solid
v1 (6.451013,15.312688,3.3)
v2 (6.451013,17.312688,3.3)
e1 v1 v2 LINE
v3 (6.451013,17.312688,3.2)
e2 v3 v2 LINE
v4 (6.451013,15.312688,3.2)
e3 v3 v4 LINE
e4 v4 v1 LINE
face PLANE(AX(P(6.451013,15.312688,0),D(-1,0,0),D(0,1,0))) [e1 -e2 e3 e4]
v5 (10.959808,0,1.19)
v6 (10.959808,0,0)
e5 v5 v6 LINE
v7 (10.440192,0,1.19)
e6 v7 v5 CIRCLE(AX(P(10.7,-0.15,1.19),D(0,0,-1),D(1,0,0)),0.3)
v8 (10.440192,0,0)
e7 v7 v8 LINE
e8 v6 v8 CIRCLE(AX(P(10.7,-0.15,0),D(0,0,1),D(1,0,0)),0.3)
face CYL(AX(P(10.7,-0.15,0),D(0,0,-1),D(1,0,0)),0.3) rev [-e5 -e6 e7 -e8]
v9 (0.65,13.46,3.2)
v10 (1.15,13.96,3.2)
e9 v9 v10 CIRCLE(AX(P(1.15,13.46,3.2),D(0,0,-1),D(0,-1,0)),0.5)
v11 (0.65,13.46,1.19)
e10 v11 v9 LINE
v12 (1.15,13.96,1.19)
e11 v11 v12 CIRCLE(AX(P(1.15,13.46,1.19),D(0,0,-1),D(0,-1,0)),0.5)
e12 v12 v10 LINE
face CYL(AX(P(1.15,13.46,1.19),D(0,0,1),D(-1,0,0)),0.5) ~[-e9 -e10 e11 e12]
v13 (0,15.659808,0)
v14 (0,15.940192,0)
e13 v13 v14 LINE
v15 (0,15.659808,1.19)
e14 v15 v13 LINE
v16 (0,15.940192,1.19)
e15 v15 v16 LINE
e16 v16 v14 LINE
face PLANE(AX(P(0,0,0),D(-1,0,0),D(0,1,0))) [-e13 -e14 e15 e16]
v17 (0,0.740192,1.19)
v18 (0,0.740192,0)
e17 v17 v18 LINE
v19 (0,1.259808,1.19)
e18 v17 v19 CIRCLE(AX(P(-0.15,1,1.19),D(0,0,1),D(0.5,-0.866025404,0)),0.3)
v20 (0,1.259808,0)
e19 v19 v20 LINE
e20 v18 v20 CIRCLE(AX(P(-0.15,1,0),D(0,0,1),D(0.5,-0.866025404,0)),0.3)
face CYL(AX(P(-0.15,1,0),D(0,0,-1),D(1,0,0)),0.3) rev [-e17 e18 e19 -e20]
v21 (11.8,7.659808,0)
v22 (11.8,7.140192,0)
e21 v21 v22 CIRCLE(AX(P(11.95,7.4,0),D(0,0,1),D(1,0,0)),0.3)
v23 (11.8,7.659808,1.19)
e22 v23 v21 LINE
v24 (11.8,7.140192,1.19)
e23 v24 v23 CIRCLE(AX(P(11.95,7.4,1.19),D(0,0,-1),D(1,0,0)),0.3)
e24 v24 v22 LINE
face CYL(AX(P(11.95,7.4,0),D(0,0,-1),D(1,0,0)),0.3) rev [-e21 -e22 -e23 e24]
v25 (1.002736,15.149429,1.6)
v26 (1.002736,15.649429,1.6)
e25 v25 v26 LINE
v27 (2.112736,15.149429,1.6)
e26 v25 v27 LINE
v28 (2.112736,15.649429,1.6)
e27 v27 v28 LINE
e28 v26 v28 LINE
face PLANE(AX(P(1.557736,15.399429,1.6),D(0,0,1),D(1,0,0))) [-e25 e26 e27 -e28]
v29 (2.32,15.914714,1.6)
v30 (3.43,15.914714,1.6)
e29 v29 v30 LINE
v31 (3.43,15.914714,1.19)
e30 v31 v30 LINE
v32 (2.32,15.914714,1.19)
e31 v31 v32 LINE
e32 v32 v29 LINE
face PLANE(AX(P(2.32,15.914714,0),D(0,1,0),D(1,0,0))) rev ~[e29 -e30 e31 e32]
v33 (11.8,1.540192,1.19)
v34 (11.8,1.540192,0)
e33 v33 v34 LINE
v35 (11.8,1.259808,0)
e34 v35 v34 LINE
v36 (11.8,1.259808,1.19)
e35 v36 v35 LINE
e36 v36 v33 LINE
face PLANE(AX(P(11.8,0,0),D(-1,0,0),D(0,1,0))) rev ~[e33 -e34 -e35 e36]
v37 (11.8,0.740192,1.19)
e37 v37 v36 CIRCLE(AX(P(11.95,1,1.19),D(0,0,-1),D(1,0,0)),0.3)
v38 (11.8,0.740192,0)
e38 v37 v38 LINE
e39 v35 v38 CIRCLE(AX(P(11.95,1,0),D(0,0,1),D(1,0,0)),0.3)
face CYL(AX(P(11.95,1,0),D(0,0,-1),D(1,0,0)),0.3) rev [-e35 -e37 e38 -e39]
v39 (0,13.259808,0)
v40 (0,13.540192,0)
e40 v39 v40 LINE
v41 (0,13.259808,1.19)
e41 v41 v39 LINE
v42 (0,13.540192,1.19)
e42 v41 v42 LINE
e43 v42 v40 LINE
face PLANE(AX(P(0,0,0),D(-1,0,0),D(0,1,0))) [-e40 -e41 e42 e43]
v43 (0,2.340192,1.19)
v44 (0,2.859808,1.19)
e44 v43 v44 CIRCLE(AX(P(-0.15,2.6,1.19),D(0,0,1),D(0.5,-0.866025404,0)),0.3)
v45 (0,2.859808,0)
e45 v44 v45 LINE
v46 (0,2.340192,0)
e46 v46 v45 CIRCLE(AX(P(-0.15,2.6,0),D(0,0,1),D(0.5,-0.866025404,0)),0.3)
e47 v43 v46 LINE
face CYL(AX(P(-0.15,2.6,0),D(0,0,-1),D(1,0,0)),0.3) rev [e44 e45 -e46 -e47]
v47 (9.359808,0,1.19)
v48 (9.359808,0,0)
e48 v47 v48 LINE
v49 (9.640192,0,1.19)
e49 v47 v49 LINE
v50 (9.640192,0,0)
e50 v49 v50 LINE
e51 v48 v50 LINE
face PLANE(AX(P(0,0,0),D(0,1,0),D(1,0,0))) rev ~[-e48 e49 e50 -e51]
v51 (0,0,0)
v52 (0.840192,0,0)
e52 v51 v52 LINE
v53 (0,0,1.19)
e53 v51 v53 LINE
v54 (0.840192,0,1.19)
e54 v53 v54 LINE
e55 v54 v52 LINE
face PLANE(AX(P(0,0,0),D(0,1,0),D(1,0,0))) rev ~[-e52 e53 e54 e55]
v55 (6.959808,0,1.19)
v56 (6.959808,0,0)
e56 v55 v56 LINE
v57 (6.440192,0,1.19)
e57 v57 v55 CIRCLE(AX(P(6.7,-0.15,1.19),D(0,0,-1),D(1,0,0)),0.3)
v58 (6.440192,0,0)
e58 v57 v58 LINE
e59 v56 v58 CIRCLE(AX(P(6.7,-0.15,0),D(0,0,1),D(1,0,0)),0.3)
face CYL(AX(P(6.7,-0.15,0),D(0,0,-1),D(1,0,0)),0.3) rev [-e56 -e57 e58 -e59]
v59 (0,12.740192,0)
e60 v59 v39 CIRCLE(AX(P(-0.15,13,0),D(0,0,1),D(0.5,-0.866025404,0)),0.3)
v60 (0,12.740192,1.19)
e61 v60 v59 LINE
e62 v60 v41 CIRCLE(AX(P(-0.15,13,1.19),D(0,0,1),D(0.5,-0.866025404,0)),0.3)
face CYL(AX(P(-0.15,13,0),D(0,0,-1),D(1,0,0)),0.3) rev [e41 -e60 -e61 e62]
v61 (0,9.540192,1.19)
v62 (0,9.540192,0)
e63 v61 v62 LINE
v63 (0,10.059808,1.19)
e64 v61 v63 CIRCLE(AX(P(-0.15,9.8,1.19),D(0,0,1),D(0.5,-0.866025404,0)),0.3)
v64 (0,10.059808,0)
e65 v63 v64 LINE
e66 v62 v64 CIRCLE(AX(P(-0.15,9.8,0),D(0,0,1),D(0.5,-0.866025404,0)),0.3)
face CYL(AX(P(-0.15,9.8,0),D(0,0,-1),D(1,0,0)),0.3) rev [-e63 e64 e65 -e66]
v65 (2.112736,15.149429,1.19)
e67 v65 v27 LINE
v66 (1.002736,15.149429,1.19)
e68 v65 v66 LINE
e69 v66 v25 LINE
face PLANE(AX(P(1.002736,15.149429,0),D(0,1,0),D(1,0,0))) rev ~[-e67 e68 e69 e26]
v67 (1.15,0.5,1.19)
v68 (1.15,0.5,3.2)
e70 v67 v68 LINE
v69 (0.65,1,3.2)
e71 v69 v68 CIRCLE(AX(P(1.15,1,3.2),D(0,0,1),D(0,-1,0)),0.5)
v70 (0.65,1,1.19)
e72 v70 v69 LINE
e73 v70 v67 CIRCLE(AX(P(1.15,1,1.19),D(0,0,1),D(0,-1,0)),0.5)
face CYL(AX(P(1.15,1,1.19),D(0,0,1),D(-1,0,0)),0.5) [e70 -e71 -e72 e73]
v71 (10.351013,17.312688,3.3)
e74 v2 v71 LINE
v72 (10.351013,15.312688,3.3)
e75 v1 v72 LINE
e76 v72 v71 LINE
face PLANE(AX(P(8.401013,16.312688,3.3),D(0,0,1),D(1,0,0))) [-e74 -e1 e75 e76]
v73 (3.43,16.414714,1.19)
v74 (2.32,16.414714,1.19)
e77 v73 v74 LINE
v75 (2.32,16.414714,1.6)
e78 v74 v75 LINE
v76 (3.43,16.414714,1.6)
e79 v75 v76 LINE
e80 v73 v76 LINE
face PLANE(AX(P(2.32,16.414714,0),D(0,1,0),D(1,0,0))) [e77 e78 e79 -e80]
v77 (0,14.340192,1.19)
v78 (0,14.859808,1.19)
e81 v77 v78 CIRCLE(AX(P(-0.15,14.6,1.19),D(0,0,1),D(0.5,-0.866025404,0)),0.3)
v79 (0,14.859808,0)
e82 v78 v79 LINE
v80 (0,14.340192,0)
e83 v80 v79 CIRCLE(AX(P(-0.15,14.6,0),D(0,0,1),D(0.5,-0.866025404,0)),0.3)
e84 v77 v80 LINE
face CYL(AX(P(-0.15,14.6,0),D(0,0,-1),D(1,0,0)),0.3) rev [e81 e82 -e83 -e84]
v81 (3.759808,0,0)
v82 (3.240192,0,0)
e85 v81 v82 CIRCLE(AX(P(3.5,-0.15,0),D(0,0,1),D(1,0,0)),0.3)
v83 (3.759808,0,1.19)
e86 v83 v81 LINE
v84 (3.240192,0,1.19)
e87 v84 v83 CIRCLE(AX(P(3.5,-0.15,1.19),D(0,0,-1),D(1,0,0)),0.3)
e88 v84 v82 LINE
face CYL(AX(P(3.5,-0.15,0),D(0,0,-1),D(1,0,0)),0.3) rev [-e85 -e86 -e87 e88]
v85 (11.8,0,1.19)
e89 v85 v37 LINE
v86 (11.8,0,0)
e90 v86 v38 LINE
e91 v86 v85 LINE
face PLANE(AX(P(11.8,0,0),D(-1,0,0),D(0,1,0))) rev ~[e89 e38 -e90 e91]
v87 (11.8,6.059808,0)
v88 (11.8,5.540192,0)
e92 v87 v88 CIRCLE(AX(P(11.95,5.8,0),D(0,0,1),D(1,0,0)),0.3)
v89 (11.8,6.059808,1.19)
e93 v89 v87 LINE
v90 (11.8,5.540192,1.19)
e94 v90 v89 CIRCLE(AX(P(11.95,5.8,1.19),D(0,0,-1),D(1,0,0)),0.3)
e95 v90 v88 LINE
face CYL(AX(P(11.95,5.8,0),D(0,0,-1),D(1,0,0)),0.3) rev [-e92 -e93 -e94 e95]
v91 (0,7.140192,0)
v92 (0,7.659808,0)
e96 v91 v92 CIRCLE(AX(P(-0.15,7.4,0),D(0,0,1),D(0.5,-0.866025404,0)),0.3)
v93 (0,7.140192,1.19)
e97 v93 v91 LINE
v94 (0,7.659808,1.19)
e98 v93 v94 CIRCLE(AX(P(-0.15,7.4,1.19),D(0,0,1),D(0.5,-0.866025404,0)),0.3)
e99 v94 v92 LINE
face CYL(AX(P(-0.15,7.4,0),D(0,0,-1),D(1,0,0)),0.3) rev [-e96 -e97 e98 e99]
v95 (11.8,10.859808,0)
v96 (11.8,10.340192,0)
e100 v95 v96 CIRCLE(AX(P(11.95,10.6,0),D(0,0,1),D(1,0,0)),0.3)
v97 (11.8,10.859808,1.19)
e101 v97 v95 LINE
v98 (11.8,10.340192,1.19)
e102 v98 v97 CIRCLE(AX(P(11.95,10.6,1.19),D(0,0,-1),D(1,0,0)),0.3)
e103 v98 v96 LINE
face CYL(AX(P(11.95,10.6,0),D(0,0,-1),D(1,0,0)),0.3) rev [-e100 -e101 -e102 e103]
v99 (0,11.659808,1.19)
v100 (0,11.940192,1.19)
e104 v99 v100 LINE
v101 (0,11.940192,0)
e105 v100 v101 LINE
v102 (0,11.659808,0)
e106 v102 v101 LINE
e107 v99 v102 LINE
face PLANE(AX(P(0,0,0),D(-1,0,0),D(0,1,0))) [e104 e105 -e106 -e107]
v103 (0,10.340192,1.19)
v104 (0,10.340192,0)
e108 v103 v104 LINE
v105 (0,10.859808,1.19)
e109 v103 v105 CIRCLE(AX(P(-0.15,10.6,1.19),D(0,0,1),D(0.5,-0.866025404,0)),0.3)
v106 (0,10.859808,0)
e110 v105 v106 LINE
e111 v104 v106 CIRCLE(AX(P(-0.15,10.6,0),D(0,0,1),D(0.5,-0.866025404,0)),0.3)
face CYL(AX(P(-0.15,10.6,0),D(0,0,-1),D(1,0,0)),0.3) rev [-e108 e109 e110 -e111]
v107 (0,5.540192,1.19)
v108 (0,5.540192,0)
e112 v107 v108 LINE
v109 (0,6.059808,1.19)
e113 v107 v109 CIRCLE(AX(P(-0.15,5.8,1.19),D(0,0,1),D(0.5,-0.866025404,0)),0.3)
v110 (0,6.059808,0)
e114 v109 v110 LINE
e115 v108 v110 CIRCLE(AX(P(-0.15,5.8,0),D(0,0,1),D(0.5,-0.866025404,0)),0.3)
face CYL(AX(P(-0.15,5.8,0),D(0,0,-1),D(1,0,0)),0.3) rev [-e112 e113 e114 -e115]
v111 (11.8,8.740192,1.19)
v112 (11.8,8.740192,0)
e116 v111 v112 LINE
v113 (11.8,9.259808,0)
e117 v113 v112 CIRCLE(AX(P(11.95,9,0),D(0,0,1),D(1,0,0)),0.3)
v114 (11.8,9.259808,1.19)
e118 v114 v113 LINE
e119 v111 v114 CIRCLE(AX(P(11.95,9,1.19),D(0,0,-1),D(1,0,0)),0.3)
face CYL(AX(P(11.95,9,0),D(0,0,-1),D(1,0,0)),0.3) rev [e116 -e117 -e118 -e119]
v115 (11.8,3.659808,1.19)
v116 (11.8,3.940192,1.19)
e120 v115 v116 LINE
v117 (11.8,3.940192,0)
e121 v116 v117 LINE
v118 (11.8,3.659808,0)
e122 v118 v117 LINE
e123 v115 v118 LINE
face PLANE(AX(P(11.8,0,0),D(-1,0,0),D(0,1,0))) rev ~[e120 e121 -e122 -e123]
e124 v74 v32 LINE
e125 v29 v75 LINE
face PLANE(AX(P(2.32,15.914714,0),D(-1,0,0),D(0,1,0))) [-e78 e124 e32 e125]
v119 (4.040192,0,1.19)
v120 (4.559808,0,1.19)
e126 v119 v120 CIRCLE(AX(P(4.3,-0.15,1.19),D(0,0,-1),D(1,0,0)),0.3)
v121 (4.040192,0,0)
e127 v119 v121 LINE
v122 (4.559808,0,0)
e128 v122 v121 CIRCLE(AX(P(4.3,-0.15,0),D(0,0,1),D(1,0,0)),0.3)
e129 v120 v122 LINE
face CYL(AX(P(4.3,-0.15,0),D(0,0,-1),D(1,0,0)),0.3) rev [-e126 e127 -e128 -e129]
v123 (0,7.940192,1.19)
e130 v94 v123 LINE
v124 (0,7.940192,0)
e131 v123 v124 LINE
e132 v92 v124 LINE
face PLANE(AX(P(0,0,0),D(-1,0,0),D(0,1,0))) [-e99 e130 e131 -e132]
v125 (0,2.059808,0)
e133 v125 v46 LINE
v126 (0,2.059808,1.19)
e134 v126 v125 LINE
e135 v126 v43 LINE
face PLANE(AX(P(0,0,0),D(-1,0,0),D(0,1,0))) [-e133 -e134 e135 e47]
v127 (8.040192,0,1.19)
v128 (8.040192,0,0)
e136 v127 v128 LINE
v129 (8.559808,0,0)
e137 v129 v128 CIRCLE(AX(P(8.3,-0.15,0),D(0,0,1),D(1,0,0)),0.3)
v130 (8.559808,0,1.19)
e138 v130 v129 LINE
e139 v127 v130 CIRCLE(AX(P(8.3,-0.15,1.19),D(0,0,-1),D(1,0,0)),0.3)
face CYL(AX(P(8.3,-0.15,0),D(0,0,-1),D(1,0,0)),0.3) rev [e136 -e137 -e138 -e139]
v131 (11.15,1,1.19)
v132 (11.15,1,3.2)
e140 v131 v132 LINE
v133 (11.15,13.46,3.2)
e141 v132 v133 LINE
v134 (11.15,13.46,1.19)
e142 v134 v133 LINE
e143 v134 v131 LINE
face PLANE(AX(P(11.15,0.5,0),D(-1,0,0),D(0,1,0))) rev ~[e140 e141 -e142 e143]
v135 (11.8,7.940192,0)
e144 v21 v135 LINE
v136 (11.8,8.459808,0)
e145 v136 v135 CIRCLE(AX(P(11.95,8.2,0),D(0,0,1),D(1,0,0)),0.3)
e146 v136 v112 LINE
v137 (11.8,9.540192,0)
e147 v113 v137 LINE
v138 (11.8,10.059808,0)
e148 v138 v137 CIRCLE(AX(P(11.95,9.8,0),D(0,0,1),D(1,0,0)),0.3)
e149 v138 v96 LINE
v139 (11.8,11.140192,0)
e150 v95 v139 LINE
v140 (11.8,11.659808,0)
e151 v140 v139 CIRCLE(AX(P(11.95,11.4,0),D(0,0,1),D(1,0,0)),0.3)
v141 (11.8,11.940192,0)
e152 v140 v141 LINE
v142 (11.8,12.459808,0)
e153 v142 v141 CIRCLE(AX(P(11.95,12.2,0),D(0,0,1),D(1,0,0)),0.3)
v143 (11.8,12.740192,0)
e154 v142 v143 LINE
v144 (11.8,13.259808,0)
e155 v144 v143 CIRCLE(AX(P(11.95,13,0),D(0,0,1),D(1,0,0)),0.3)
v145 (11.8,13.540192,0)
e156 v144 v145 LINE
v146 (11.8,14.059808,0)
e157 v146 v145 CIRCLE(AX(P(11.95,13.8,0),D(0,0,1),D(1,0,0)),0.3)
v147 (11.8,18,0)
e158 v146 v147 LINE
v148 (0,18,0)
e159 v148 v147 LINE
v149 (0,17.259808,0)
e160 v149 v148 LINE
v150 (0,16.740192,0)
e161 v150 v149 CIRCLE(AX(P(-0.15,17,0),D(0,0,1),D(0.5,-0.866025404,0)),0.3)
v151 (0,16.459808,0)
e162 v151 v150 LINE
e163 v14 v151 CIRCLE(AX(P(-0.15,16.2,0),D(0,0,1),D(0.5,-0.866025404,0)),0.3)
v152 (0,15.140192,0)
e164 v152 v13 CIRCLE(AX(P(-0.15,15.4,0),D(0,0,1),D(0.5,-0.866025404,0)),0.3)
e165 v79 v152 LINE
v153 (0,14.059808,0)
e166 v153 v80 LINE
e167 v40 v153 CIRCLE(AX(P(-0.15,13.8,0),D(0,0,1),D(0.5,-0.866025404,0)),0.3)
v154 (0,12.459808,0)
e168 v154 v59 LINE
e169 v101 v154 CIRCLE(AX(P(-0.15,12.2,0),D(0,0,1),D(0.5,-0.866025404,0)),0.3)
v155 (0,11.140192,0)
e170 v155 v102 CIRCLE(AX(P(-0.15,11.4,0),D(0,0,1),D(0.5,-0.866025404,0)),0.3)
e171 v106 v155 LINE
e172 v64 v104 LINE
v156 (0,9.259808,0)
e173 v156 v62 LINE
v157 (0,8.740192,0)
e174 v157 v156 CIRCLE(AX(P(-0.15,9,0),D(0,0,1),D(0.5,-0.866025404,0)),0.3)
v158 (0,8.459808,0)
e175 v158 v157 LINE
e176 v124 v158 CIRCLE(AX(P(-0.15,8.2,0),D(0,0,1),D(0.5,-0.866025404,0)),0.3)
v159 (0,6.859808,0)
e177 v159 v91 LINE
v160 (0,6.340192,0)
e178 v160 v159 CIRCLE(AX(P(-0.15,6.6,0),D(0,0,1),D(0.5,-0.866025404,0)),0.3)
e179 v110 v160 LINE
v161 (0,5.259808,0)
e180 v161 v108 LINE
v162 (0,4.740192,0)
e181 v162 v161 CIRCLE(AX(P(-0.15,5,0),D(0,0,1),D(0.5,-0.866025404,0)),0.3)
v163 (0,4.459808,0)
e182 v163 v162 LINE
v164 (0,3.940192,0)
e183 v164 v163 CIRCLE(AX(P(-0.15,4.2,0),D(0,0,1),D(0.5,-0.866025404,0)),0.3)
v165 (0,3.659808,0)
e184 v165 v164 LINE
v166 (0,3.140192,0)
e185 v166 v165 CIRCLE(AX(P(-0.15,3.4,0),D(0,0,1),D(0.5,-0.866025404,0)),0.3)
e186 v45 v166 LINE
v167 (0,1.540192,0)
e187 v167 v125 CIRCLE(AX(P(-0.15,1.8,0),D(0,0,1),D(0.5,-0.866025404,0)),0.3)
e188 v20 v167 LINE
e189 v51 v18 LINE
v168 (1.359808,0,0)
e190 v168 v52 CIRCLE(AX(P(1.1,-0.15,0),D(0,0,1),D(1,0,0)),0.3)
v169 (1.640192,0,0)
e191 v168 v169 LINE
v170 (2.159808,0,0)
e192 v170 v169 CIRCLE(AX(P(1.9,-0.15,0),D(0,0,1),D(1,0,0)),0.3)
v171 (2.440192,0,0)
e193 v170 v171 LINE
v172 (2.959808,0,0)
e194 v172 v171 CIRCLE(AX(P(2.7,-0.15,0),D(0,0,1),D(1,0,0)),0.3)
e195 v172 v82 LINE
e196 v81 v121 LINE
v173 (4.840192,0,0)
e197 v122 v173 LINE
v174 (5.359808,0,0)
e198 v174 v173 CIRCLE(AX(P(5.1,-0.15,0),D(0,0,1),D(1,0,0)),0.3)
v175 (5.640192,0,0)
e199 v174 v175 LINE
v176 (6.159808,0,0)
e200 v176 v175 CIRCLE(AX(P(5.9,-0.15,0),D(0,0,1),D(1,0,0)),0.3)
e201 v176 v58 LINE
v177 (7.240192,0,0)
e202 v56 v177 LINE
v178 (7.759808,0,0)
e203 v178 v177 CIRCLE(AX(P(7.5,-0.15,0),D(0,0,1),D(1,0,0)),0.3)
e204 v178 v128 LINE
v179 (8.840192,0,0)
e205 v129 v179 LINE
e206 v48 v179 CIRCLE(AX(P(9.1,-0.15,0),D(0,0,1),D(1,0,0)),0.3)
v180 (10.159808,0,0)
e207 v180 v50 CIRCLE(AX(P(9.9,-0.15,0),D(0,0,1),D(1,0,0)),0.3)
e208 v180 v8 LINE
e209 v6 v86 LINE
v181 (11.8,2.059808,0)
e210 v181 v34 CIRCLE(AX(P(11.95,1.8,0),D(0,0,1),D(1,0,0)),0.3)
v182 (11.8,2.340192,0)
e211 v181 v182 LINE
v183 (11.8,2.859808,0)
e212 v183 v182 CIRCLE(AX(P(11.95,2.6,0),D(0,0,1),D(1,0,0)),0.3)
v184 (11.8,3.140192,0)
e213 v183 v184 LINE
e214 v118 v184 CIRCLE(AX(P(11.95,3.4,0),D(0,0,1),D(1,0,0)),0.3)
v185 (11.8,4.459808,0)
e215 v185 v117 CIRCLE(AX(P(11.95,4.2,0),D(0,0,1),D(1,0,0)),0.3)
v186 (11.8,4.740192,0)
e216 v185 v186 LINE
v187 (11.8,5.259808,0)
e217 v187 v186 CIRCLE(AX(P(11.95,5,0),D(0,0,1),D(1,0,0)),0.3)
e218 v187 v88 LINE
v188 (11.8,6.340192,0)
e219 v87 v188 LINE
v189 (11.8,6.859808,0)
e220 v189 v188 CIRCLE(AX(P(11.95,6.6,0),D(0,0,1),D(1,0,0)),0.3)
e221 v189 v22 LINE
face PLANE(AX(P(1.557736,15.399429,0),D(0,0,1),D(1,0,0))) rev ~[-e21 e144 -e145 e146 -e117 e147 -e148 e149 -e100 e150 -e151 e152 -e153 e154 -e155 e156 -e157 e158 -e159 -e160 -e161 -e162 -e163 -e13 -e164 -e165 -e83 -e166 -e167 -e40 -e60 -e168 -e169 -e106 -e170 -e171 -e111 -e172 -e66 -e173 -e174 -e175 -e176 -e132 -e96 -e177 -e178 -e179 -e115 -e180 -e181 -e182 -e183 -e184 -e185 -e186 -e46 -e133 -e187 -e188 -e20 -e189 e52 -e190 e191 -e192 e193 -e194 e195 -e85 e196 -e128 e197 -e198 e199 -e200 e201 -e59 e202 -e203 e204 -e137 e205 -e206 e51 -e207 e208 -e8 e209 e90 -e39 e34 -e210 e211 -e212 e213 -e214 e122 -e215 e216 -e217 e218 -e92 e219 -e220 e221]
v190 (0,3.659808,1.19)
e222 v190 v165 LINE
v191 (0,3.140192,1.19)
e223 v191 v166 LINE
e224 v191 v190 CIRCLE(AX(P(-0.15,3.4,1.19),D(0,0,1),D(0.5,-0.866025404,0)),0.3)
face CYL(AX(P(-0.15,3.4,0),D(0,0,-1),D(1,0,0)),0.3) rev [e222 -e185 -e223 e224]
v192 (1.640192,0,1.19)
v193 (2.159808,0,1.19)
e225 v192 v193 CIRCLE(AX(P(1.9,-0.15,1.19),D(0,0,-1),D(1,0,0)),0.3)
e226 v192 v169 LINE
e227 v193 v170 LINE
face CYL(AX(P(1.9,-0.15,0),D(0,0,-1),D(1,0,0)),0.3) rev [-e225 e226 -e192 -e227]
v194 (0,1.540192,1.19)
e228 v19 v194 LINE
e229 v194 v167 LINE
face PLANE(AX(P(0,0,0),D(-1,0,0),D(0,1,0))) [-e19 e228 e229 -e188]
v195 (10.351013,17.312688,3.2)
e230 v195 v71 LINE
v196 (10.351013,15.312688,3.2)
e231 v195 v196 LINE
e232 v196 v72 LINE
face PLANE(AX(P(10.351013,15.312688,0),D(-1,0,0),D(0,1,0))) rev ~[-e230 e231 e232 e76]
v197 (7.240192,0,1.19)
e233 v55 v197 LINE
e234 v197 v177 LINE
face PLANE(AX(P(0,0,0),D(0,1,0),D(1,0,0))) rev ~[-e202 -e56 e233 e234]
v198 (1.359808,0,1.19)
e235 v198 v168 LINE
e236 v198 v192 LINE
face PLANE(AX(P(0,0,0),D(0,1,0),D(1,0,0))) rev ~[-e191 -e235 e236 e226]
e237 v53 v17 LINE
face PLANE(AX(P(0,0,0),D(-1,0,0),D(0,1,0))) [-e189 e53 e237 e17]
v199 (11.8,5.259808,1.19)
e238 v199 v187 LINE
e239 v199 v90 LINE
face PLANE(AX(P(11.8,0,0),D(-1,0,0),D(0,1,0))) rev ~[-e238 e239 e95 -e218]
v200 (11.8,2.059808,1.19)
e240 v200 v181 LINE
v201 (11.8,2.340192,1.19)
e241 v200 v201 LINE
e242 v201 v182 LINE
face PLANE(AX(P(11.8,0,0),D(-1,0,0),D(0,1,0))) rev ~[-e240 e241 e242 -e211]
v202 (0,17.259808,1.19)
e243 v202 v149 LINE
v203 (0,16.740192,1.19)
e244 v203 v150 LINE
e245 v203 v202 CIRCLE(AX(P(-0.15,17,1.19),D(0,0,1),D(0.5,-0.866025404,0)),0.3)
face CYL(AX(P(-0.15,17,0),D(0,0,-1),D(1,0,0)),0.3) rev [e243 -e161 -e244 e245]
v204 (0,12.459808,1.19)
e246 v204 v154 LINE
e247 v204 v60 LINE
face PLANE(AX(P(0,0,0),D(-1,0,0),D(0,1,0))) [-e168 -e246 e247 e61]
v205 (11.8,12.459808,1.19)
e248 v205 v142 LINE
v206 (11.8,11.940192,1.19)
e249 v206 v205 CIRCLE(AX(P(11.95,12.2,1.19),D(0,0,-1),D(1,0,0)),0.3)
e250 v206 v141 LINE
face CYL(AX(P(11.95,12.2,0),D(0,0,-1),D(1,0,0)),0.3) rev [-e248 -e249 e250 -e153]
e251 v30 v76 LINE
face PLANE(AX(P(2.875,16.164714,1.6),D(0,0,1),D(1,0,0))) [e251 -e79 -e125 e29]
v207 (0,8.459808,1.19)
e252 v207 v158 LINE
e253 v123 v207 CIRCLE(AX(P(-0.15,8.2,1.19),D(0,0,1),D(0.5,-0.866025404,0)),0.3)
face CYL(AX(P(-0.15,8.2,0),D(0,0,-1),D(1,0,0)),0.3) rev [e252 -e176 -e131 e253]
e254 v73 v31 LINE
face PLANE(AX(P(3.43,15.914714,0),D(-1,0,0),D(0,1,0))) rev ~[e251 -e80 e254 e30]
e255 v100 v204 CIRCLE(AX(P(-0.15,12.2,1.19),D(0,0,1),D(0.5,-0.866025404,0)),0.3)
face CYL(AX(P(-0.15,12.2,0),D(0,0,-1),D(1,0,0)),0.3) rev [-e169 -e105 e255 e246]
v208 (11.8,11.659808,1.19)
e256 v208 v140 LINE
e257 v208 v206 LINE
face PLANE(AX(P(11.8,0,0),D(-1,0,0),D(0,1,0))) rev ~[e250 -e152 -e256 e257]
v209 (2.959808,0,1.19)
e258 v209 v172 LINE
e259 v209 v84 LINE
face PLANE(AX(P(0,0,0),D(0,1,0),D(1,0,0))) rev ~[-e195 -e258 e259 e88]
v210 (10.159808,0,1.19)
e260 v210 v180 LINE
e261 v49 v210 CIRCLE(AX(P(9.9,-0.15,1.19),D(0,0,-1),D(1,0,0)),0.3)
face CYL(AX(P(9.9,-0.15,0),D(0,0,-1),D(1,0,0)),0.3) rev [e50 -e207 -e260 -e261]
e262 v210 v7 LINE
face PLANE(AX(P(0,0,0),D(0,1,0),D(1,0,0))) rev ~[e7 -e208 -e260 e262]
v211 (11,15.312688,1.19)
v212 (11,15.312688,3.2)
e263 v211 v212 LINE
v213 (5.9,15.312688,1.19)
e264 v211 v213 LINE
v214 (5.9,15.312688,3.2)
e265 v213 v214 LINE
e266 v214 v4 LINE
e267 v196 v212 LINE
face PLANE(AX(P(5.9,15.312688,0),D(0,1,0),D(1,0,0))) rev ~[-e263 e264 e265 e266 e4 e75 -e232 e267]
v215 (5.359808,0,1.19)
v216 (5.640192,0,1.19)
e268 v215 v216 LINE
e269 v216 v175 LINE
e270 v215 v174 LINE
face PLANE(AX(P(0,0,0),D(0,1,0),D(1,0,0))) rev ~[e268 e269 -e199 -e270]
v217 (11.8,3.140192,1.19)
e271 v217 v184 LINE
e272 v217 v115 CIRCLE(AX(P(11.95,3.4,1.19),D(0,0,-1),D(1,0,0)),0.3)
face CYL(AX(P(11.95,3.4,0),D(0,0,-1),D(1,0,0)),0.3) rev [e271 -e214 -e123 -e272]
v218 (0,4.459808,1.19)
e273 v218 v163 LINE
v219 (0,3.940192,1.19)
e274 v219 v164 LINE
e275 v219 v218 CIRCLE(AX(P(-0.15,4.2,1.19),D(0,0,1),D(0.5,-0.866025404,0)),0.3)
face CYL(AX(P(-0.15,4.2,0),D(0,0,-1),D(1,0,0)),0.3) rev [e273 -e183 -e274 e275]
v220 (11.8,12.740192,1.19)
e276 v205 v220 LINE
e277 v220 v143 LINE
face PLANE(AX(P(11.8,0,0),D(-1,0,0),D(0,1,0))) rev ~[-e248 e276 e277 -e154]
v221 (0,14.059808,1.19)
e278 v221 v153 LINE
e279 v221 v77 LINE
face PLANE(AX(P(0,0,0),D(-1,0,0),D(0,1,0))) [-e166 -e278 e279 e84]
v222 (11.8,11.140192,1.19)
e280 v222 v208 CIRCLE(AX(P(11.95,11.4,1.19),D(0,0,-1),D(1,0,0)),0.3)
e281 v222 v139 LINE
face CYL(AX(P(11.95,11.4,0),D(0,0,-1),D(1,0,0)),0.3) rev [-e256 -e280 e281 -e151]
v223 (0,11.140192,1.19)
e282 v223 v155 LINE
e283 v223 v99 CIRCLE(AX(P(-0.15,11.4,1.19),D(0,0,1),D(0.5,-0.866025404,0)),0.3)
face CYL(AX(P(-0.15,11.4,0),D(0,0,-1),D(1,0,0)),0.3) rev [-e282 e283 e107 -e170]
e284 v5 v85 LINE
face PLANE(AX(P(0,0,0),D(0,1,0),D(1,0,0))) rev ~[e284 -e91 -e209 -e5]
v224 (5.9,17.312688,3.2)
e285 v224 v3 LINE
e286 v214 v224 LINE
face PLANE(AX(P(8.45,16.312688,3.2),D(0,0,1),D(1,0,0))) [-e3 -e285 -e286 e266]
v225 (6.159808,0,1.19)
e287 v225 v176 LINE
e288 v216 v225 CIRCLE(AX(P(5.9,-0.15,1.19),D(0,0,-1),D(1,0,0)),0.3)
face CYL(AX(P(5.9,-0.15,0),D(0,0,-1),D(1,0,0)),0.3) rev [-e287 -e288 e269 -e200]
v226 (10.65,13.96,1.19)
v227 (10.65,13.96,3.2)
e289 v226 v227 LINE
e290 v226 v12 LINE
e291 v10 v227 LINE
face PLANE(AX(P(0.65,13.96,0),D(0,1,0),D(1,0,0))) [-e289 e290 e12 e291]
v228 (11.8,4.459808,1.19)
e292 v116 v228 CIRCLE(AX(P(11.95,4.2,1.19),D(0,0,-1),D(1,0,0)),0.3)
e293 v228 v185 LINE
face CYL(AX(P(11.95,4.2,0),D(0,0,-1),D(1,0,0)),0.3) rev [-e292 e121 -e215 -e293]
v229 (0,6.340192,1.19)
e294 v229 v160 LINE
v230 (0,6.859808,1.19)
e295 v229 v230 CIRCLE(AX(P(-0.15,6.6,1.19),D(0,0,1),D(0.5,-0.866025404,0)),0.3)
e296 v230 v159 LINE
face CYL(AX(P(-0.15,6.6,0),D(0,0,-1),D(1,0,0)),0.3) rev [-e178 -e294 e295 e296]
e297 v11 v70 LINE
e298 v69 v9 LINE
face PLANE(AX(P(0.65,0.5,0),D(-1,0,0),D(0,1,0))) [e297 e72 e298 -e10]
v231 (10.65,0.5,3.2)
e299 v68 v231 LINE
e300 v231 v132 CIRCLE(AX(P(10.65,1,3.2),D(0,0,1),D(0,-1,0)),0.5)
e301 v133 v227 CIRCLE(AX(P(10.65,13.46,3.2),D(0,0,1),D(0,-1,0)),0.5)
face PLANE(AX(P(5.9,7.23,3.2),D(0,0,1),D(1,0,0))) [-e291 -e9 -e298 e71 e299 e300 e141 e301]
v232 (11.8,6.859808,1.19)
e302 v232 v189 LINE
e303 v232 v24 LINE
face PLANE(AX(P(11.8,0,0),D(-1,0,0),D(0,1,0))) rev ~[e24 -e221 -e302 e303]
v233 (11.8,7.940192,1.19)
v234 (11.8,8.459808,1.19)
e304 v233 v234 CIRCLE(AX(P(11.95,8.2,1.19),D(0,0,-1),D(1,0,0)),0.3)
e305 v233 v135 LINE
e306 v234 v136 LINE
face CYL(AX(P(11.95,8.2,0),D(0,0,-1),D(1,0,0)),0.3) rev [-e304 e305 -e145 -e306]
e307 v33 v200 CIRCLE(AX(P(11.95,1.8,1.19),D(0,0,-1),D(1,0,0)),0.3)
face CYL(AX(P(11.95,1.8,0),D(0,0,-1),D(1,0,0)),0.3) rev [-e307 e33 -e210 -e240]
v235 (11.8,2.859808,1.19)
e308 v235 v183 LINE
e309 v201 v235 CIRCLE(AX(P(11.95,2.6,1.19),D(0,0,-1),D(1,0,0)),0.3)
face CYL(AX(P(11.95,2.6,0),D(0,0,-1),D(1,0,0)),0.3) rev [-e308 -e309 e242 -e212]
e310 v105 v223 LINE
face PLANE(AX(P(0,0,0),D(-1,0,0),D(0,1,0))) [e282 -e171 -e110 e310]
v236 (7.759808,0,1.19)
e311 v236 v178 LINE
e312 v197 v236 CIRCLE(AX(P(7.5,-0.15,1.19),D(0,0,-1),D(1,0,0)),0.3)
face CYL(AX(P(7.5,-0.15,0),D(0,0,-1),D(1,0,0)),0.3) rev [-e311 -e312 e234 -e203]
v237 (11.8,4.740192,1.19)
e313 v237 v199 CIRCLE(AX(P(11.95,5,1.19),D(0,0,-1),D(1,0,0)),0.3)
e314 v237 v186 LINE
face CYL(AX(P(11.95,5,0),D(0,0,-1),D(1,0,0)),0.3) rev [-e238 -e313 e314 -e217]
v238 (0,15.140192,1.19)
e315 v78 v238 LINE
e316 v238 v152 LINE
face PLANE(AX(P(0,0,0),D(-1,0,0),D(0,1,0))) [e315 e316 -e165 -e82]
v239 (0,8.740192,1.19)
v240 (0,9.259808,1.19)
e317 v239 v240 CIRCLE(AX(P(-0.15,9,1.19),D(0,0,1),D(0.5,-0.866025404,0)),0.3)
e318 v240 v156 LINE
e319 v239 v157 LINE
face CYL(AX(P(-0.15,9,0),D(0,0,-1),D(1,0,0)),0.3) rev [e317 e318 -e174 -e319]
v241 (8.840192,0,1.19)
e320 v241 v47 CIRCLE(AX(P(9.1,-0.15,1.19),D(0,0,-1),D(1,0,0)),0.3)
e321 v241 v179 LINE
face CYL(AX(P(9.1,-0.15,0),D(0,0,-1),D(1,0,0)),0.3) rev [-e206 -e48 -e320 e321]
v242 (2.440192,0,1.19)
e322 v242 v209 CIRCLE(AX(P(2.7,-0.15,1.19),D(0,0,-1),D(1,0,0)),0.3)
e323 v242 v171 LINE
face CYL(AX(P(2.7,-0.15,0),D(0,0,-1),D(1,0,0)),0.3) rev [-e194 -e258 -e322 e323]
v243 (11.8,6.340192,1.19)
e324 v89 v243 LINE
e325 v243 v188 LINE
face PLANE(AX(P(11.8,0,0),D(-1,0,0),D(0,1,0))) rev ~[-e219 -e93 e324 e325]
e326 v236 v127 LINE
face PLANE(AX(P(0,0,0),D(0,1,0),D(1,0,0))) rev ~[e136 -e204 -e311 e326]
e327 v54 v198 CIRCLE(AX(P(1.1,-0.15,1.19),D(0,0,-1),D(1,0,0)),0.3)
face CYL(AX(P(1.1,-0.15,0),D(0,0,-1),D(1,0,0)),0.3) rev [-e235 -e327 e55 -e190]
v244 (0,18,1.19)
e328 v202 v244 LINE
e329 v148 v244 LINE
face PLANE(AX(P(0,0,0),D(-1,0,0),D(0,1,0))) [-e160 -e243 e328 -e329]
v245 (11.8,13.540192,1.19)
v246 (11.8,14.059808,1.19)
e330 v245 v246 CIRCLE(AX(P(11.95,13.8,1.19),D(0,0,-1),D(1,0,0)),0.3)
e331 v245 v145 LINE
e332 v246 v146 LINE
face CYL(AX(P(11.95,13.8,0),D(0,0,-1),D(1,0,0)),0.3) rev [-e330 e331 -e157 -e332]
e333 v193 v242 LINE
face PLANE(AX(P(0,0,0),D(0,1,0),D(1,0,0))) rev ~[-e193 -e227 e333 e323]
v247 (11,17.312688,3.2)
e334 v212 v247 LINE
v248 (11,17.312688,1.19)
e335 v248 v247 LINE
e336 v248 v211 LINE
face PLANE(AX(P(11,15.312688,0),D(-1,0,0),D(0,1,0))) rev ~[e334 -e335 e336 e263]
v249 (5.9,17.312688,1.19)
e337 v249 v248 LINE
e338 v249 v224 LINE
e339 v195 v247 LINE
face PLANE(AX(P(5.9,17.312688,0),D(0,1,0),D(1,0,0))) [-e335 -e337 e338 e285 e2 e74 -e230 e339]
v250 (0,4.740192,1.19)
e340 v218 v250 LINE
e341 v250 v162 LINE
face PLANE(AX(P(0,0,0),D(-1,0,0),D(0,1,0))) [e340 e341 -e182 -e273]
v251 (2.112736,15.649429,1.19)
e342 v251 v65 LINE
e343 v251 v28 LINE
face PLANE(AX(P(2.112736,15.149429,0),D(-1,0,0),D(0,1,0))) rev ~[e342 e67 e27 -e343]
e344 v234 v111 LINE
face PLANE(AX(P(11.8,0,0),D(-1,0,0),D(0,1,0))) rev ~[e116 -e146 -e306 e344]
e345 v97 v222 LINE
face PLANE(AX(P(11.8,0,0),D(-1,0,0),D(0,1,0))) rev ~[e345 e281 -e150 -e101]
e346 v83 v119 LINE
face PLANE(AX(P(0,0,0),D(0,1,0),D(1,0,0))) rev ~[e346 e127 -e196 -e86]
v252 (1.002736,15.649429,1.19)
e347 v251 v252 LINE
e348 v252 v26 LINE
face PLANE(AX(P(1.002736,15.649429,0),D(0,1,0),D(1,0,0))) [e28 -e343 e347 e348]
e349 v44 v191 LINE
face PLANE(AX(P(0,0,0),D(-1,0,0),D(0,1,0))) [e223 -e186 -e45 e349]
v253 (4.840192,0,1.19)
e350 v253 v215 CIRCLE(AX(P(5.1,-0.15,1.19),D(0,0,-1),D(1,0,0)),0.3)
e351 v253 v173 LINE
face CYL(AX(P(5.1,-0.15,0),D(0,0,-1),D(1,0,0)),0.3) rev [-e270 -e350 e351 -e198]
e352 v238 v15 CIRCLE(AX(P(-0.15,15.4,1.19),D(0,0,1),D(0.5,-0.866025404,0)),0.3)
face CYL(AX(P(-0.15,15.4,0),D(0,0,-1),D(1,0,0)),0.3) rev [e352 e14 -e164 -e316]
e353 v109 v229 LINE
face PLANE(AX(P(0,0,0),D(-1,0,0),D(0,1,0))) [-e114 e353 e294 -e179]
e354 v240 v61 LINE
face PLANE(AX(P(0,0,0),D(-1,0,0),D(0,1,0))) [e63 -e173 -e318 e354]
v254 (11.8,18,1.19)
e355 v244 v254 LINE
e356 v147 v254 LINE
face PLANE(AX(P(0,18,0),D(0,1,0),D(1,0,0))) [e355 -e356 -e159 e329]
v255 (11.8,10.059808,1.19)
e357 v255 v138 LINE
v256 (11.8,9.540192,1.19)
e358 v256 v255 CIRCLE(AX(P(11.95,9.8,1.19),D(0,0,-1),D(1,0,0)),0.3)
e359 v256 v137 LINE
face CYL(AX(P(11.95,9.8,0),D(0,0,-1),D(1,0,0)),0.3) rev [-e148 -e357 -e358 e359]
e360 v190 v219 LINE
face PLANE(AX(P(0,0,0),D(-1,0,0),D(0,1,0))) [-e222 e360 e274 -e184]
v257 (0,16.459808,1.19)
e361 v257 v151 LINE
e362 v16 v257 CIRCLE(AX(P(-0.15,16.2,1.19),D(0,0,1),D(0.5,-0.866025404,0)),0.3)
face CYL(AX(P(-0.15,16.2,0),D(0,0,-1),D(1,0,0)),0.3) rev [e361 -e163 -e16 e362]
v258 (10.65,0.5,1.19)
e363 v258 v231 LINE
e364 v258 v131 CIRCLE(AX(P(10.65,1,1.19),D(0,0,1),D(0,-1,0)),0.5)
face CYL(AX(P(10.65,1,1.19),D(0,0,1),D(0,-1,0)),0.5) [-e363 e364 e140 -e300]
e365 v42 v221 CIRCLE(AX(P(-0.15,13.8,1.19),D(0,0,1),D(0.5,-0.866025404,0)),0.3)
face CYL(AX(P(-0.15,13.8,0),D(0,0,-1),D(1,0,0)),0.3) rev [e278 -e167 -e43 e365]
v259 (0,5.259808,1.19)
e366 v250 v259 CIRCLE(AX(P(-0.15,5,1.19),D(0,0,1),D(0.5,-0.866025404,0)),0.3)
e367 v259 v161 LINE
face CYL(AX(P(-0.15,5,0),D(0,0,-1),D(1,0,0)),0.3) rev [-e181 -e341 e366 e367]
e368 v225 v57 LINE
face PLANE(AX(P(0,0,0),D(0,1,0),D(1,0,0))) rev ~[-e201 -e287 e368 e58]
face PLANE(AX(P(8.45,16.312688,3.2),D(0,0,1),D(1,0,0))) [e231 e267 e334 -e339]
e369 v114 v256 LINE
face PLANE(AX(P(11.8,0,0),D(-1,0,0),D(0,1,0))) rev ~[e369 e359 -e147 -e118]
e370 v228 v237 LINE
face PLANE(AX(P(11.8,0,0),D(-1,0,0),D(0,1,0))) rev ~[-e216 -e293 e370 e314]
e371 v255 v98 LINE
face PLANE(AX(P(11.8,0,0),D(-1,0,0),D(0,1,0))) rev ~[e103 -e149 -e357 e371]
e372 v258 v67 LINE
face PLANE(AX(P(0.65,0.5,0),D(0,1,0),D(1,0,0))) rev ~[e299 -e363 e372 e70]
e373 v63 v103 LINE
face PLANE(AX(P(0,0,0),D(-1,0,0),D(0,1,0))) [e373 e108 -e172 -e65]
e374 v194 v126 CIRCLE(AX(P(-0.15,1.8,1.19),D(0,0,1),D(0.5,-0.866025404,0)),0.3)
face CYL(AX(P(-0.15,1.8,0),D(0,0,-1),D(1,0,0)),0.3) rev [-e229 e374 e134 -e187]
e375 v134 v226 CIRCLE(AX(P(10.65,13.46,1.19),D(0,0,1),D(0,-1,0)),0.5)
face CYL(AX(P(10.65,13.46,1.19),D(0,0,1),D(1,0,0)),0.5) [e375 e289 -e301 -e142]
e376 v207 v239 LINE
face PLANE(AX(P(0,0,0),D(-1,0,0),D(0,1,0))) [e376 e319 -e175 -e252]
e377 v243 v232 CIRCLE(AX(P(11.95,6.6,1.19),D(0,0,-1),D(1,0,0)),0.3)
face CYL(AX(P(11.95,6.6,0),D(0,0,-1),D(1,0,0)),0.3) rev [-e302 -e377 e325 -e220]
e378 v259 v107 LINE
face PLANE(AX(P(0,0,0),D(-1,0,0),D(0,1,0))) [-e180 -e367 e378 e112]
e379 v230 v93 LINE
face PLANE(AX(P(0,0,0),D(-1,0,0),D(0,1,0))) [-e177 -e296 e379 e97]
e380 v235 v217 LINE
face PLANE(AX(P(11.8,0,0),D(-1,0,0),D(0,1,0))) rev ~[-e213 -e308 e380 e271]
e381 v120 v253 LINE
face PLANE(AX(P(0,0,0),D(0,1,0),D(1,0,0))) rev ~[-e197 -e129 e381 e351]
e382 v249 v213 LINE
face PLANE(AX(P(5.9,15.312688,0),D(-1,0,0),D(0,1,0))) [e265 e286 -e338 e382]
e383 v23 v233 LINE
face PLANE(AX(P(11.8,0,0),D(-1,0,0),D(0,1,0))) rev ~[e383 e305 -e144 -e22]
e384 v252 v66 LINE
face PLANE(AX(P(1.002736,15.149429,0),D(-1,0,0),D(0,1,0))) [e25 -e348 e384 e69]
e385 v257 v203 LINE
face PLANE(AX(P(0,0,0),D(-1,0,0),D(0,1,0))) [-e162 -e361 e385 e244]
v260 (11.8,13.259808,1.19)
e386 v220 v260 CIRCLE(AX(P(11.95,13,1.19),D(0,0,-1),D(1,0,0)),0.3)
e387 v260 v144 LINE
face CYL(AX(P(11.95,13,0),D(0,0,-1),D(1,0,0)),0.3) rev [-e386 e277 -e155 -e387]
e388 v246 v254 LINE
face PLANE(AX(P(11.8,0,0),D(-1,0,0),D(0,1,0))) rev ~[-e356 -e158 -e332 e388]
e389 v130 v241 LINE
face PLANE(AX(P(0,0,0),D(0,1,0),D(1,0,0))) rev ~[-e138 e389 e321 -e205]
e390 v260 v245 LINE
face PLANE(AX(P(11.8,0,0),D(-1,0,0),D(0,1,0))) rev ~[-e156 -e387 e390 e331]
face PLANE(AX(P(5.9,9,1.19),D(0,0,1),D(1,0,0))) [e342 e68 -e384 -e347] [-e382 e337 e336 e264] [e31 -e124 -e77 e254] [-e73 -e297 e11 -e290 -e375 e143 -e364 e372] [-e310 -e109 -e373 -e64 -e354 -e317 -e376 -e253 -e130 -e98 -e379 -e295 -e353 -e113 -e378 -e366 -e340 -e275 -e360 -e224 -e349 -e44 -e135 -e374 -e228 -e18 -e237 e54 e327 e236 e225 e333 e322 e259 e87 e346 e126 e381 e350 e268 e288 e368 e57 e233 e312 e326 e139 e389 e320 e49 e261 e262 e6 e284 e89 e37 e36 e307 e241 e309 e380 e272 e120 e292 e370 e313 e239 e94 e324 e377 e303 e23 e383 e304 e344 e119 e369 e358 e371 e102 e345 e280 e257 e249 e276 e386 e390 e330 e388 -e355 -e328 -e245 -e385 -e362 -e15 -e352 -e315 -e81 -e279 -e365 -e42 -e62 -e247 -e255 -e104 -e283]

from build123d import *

# Parameters (mm, degrees)
SKETCH1_W               = 11.8
SKETCH1_H               = 18
BOSS_EXTRUDE1_DEPTH     = 1.19
SKETCH2_W               = 10.5
SKETCH2_H               = 13.46
BOSS_EXTRUDE2_DEPTH     = 3.2
FILLET11_R              = 0.5
FILLET12_R              = 0.5
FILLET13_R              = 0.5
FILLET14_R              = 0.5
SKETCH9_R               = 0.3
CUT_EXTRUDE5_DEPTH      = 3.2
SKETCH14_W              = 5.1
SKETCH14_H              = 2
BOSS_EXTRUDE3_DEPTH     = 3.2
SKETCH15_W              = 3.9
SKETCH15_H              = 2
BOSS_EXTRUDE4_DEPTH     = 3.3
SKETCH16_R              = 0.3
CUT_EXTRUDE6_DEPTH      = 4.3
CUT_EXTRUDE6_DEPTH_BACK = 1
SKETCH17_R              = 0.3
CUT_EXTRUDE9_DEPTH      = 4.3
CUT_EXTRUDE9_DEPTH_BACK = 3.2
SKETCH19_W              = 1.11
SKETCH19_H              = 0.5
BOSS_EXTRUDE6_DEPTH     = 1.6
SKETCH20_W              = 1.11
SKETCH20_H              = 0.5
BOSS_EXTRUDE7_DEPTH     = 1.6


with BuildPart() as part:
    # Sketch1 → Boss-Extrude1 (new body)
    with BuildSketch(Plane.XY):
        with Locations((5.9, 9)):
            Rectangle(SKETCH1_W, SKETCH1_H)
    extrude(amount=BOSS_EXTRUDE1_DEPTH)

    # Sketch2 → Boss-Extrude2 (add)
    with BuildSketch(Plane.XY):
        with Locations((5.9, 7.23)):
            Rectangle(SKETCH2_W, SKETCH2_H)
    extrude(amount=BOSS_EXTRUDE2_DEPTH)

    # Fillet11
    fillet11_edges = [part.edges().sort_by_distance(p)[0] for p in [
        (0.65, 13.96, 2.195),
    ]]
    fillet(fillet11_edges, radius=FILLET11_R)

    # Fillet12
    fillet12_edges = [part.edges().sort_by_distance(p)[0] for p in [
        (0.65, 0.5, 2.195),
    ]]
    fillet(fillet12_edges, radius=FILLET12_R)

    # Fillet13
    fillet13_edges = [part.edges().sort_by_distance(p)[0] for p in [
        (11.15, 0.5, 2.195),
    ]]
    fillet(fillet13_edges, radius=FILLET13_R)

    # Fillet14
    fillet14_edges = [part.edges().sort_by_distance(p)[0] for p in [
        (11.15, 13.96, 2.195),
    ]]
    fillet(fillet14_edges, radius=FILLET14_R)

    # Sketch9 → Cut-Extrude5 (cut)
    with BuildSketch(Plane.XY):
        with Locations((1.1, -0.15)):
            Circle(SKETCH9_R)
        with Locations((1.9, -0.15)):
            Circle(SKETCH9_R)
        with Locations((2.7, -0.15)):
            Circle(SKETCH9_R)
        with Locations((3.5, -0.15)):
            Circle(SKETCH9_R)
        with Locations((4.3, -0.15)):
            Circle(SKETCH9_R)
        with Locations((5.1, -0.15)):
            Circle(SKETCH9_R)
        with Locations((5.9, -0.15)):
            Circle(SKETCH9_R)
        with Locations((6.7, -0.15)):
            Circle(SKETCH9_R)
        with Locations((7.5, -0.15)):
            Circle(SKETCH9_R)
        with Locations((8.3, -0.15)):
            Circle(SKETCH9_R)
        with Locations((9.1, -0.15)):
            Circle(SKETCH9_R)
        with Locations((9.9, -0.15)):
            Circle(SKETCH9_R)
        with Locations((10.7, -0.15)):
            Circle(SKETCH9_R)
    extrude(amount=CUT_EXTRUDE5_DEPTH, mode=Mode.SUBTRACT)

    # Sketch14 → Boss-Extrude3 (add)
    with BuildSketch(Plane.XY):
        with Locations((8.45, 16.312688451)):
            Rectangle(SKETCH14_W, SKETCH14_H)
    extrude(amount=BOSS_EXTRUDE3_DEPTH)

    # Sketch15 → Boss-Extrude4 (add)
    with BuildSketch(Plane.XY):
        with Locations((8.401012654, 16.312688451)):
            Rectangle(SKETCH15_W, SKETCH15_H)
    extrude(amount=BOSS_EXTRUDE4_DEPTH)

    # Sketch16 → Cut-Extrude6 (cut, two sides)
    with BuildSketch(Plane.XY) as cut_extrude6_sk:
        with Locations((-0.15, 1)):
            Circle(SKETCH16_R)
        with Locations((-0.15, 1.8)):
            Circle(SKETCH16_R)
        with Locations((-0.15, 2.6)):
            Circle(SKETCH16_R)
        with Locations((-0.15, 3.4)):
            Circle(SKETCH16_R)
        with Locations((-0.15, 4.2)):
            Circle(SKETCH16_R)
        with Locations((-0.15, 5)):
            Circle(SKETCH16_R)
        with Locations((-0.15, 5.8)):
            Circle(SKETCH16_R)
        with Locations((-0.15, 6.6)):
            Circle(SKETCH16_R)
        with Locations((-0.15, 7.4)):
            Circle(SKETCH16_R)
        with Locations((-0.15, 8.2)):
            Circle(SKETCH16_R)
        with Locations((-0.15, 9)):
            Circle(SKETCH16_R)
        with Locations((-0.15, 9.8)):
            Circle(SKETCH16_R)
        with Locations((-0.15, 10.6)):
            Circle(SKETCH16_R)
        with Locations((-0.15, 11.4)):
            Circle(SKETCH16_R)
        with Locations((-0.15, 12.2)):
            Circle(SKETCH16_R)
        with Locations((-0.15, 13)):
            Circle(SKETCH16_R)
        with Locations((-0.15, 13.8)):
            Circle(SKETCH16_R)
        with Locations((-0.15, 14.6)):
            Circle(SKETCH16_R)
        with Locations((-0.15, 15.4)):
            Circle(SKETCH16_R)
        with Locations((-0.15, 16.2)):
            Circle(SKETCH16_R)
        with Locations((-0.15, 17)):
            Circle(SKETCH16_R)
    extrude(amount=CUT_EXTRUDE6_DEPTH, mode=Mode.SUBTRACT)
    extrude(cut_extrude6_sk.sketch, amount=-CUT_EXTRUDE6_DEPTH_BACK, mode=Mode.SUBTRACT)

    # Sketch17 → Cut-Extrude9 (cut, two sides)
    with BuildSketch(Plane.XY) as cut_extrude9_sk:
        with Locations((11.95, 1)):
            Circle(SKETCH17_R)
        with Locations((11.95, 1.8)):
            Circle(SKETCH17_R)
        with Locations((11.95, 2.6)):
            Circle(SKETCH17_R)
        with Locations((11.95, 3.4)):
            Circle(SKETCH17_R)
        with Locations((11.95, 4.2)):
            Circle(SKETCH17_R)
        with Locations((11.95, 5)):
            Circle(SKETCH17_R)
        with Locations((11.95, 5.8)):
            Circle(SKETCH17_R)
        with Locations((11.95, 6.6)):
            Circle(SKETCH17_R)
        with Locations((11.95, 7.4)):
            Circle(SKETCH17_R)
        with Locations((11.95, 8.2)):
            Circle(SKETCH17_R)
        with Locations((11.95, 9)):
            Circle(SKETCH17_R)
        with Locations((11.95, 9.8)):
            Circle(SKETCH17_R)
        with Locations((11.95, 10.6)):
            Circle(SKETCH17_R)
        with Locations((11.95, 11.4)):
            Circle(SKETCH17_R)
        with Locations((11.95, 12.2)):
            Circle(SKETCH17_R)
        with Locations((11.95, 13)):
            Circle(SKETCH17_R)
        with Locations((11.95, 13.8)):
            Circle(SKETCH17_R)
    extrude(amount=CUT_EXTRUDE9_DEPTH, mode=Mode.SUBTRACT)
    extrude(cut_extrude9_sk.sketch, amount=-CUT_EXTRUDE9_DEPTH_BACK, mode=Mode.SUBTRACT)

    # Sketch19 → Boss-Extrude6 (add)
    with BuildSketch(Plane.XY):
        with Locations((2.875, 16.16471376)):
            Rectangle(SKETCH19_W, SKETCH19_H)
    extrude(amount=BOSS_EXTRUDE6_DEPTH)

    # Sketch20 → Boss-Extrude7 (add)
    with BuildSketch(Plane.XY):
        with Locations((1.55773637, 15.39942892)):
            Rectangle(SKETCH20_W, SKETCH20_H)
    extrude(amount=BOSS_EXTRUDE7_DEPTH)


solid = part.part
